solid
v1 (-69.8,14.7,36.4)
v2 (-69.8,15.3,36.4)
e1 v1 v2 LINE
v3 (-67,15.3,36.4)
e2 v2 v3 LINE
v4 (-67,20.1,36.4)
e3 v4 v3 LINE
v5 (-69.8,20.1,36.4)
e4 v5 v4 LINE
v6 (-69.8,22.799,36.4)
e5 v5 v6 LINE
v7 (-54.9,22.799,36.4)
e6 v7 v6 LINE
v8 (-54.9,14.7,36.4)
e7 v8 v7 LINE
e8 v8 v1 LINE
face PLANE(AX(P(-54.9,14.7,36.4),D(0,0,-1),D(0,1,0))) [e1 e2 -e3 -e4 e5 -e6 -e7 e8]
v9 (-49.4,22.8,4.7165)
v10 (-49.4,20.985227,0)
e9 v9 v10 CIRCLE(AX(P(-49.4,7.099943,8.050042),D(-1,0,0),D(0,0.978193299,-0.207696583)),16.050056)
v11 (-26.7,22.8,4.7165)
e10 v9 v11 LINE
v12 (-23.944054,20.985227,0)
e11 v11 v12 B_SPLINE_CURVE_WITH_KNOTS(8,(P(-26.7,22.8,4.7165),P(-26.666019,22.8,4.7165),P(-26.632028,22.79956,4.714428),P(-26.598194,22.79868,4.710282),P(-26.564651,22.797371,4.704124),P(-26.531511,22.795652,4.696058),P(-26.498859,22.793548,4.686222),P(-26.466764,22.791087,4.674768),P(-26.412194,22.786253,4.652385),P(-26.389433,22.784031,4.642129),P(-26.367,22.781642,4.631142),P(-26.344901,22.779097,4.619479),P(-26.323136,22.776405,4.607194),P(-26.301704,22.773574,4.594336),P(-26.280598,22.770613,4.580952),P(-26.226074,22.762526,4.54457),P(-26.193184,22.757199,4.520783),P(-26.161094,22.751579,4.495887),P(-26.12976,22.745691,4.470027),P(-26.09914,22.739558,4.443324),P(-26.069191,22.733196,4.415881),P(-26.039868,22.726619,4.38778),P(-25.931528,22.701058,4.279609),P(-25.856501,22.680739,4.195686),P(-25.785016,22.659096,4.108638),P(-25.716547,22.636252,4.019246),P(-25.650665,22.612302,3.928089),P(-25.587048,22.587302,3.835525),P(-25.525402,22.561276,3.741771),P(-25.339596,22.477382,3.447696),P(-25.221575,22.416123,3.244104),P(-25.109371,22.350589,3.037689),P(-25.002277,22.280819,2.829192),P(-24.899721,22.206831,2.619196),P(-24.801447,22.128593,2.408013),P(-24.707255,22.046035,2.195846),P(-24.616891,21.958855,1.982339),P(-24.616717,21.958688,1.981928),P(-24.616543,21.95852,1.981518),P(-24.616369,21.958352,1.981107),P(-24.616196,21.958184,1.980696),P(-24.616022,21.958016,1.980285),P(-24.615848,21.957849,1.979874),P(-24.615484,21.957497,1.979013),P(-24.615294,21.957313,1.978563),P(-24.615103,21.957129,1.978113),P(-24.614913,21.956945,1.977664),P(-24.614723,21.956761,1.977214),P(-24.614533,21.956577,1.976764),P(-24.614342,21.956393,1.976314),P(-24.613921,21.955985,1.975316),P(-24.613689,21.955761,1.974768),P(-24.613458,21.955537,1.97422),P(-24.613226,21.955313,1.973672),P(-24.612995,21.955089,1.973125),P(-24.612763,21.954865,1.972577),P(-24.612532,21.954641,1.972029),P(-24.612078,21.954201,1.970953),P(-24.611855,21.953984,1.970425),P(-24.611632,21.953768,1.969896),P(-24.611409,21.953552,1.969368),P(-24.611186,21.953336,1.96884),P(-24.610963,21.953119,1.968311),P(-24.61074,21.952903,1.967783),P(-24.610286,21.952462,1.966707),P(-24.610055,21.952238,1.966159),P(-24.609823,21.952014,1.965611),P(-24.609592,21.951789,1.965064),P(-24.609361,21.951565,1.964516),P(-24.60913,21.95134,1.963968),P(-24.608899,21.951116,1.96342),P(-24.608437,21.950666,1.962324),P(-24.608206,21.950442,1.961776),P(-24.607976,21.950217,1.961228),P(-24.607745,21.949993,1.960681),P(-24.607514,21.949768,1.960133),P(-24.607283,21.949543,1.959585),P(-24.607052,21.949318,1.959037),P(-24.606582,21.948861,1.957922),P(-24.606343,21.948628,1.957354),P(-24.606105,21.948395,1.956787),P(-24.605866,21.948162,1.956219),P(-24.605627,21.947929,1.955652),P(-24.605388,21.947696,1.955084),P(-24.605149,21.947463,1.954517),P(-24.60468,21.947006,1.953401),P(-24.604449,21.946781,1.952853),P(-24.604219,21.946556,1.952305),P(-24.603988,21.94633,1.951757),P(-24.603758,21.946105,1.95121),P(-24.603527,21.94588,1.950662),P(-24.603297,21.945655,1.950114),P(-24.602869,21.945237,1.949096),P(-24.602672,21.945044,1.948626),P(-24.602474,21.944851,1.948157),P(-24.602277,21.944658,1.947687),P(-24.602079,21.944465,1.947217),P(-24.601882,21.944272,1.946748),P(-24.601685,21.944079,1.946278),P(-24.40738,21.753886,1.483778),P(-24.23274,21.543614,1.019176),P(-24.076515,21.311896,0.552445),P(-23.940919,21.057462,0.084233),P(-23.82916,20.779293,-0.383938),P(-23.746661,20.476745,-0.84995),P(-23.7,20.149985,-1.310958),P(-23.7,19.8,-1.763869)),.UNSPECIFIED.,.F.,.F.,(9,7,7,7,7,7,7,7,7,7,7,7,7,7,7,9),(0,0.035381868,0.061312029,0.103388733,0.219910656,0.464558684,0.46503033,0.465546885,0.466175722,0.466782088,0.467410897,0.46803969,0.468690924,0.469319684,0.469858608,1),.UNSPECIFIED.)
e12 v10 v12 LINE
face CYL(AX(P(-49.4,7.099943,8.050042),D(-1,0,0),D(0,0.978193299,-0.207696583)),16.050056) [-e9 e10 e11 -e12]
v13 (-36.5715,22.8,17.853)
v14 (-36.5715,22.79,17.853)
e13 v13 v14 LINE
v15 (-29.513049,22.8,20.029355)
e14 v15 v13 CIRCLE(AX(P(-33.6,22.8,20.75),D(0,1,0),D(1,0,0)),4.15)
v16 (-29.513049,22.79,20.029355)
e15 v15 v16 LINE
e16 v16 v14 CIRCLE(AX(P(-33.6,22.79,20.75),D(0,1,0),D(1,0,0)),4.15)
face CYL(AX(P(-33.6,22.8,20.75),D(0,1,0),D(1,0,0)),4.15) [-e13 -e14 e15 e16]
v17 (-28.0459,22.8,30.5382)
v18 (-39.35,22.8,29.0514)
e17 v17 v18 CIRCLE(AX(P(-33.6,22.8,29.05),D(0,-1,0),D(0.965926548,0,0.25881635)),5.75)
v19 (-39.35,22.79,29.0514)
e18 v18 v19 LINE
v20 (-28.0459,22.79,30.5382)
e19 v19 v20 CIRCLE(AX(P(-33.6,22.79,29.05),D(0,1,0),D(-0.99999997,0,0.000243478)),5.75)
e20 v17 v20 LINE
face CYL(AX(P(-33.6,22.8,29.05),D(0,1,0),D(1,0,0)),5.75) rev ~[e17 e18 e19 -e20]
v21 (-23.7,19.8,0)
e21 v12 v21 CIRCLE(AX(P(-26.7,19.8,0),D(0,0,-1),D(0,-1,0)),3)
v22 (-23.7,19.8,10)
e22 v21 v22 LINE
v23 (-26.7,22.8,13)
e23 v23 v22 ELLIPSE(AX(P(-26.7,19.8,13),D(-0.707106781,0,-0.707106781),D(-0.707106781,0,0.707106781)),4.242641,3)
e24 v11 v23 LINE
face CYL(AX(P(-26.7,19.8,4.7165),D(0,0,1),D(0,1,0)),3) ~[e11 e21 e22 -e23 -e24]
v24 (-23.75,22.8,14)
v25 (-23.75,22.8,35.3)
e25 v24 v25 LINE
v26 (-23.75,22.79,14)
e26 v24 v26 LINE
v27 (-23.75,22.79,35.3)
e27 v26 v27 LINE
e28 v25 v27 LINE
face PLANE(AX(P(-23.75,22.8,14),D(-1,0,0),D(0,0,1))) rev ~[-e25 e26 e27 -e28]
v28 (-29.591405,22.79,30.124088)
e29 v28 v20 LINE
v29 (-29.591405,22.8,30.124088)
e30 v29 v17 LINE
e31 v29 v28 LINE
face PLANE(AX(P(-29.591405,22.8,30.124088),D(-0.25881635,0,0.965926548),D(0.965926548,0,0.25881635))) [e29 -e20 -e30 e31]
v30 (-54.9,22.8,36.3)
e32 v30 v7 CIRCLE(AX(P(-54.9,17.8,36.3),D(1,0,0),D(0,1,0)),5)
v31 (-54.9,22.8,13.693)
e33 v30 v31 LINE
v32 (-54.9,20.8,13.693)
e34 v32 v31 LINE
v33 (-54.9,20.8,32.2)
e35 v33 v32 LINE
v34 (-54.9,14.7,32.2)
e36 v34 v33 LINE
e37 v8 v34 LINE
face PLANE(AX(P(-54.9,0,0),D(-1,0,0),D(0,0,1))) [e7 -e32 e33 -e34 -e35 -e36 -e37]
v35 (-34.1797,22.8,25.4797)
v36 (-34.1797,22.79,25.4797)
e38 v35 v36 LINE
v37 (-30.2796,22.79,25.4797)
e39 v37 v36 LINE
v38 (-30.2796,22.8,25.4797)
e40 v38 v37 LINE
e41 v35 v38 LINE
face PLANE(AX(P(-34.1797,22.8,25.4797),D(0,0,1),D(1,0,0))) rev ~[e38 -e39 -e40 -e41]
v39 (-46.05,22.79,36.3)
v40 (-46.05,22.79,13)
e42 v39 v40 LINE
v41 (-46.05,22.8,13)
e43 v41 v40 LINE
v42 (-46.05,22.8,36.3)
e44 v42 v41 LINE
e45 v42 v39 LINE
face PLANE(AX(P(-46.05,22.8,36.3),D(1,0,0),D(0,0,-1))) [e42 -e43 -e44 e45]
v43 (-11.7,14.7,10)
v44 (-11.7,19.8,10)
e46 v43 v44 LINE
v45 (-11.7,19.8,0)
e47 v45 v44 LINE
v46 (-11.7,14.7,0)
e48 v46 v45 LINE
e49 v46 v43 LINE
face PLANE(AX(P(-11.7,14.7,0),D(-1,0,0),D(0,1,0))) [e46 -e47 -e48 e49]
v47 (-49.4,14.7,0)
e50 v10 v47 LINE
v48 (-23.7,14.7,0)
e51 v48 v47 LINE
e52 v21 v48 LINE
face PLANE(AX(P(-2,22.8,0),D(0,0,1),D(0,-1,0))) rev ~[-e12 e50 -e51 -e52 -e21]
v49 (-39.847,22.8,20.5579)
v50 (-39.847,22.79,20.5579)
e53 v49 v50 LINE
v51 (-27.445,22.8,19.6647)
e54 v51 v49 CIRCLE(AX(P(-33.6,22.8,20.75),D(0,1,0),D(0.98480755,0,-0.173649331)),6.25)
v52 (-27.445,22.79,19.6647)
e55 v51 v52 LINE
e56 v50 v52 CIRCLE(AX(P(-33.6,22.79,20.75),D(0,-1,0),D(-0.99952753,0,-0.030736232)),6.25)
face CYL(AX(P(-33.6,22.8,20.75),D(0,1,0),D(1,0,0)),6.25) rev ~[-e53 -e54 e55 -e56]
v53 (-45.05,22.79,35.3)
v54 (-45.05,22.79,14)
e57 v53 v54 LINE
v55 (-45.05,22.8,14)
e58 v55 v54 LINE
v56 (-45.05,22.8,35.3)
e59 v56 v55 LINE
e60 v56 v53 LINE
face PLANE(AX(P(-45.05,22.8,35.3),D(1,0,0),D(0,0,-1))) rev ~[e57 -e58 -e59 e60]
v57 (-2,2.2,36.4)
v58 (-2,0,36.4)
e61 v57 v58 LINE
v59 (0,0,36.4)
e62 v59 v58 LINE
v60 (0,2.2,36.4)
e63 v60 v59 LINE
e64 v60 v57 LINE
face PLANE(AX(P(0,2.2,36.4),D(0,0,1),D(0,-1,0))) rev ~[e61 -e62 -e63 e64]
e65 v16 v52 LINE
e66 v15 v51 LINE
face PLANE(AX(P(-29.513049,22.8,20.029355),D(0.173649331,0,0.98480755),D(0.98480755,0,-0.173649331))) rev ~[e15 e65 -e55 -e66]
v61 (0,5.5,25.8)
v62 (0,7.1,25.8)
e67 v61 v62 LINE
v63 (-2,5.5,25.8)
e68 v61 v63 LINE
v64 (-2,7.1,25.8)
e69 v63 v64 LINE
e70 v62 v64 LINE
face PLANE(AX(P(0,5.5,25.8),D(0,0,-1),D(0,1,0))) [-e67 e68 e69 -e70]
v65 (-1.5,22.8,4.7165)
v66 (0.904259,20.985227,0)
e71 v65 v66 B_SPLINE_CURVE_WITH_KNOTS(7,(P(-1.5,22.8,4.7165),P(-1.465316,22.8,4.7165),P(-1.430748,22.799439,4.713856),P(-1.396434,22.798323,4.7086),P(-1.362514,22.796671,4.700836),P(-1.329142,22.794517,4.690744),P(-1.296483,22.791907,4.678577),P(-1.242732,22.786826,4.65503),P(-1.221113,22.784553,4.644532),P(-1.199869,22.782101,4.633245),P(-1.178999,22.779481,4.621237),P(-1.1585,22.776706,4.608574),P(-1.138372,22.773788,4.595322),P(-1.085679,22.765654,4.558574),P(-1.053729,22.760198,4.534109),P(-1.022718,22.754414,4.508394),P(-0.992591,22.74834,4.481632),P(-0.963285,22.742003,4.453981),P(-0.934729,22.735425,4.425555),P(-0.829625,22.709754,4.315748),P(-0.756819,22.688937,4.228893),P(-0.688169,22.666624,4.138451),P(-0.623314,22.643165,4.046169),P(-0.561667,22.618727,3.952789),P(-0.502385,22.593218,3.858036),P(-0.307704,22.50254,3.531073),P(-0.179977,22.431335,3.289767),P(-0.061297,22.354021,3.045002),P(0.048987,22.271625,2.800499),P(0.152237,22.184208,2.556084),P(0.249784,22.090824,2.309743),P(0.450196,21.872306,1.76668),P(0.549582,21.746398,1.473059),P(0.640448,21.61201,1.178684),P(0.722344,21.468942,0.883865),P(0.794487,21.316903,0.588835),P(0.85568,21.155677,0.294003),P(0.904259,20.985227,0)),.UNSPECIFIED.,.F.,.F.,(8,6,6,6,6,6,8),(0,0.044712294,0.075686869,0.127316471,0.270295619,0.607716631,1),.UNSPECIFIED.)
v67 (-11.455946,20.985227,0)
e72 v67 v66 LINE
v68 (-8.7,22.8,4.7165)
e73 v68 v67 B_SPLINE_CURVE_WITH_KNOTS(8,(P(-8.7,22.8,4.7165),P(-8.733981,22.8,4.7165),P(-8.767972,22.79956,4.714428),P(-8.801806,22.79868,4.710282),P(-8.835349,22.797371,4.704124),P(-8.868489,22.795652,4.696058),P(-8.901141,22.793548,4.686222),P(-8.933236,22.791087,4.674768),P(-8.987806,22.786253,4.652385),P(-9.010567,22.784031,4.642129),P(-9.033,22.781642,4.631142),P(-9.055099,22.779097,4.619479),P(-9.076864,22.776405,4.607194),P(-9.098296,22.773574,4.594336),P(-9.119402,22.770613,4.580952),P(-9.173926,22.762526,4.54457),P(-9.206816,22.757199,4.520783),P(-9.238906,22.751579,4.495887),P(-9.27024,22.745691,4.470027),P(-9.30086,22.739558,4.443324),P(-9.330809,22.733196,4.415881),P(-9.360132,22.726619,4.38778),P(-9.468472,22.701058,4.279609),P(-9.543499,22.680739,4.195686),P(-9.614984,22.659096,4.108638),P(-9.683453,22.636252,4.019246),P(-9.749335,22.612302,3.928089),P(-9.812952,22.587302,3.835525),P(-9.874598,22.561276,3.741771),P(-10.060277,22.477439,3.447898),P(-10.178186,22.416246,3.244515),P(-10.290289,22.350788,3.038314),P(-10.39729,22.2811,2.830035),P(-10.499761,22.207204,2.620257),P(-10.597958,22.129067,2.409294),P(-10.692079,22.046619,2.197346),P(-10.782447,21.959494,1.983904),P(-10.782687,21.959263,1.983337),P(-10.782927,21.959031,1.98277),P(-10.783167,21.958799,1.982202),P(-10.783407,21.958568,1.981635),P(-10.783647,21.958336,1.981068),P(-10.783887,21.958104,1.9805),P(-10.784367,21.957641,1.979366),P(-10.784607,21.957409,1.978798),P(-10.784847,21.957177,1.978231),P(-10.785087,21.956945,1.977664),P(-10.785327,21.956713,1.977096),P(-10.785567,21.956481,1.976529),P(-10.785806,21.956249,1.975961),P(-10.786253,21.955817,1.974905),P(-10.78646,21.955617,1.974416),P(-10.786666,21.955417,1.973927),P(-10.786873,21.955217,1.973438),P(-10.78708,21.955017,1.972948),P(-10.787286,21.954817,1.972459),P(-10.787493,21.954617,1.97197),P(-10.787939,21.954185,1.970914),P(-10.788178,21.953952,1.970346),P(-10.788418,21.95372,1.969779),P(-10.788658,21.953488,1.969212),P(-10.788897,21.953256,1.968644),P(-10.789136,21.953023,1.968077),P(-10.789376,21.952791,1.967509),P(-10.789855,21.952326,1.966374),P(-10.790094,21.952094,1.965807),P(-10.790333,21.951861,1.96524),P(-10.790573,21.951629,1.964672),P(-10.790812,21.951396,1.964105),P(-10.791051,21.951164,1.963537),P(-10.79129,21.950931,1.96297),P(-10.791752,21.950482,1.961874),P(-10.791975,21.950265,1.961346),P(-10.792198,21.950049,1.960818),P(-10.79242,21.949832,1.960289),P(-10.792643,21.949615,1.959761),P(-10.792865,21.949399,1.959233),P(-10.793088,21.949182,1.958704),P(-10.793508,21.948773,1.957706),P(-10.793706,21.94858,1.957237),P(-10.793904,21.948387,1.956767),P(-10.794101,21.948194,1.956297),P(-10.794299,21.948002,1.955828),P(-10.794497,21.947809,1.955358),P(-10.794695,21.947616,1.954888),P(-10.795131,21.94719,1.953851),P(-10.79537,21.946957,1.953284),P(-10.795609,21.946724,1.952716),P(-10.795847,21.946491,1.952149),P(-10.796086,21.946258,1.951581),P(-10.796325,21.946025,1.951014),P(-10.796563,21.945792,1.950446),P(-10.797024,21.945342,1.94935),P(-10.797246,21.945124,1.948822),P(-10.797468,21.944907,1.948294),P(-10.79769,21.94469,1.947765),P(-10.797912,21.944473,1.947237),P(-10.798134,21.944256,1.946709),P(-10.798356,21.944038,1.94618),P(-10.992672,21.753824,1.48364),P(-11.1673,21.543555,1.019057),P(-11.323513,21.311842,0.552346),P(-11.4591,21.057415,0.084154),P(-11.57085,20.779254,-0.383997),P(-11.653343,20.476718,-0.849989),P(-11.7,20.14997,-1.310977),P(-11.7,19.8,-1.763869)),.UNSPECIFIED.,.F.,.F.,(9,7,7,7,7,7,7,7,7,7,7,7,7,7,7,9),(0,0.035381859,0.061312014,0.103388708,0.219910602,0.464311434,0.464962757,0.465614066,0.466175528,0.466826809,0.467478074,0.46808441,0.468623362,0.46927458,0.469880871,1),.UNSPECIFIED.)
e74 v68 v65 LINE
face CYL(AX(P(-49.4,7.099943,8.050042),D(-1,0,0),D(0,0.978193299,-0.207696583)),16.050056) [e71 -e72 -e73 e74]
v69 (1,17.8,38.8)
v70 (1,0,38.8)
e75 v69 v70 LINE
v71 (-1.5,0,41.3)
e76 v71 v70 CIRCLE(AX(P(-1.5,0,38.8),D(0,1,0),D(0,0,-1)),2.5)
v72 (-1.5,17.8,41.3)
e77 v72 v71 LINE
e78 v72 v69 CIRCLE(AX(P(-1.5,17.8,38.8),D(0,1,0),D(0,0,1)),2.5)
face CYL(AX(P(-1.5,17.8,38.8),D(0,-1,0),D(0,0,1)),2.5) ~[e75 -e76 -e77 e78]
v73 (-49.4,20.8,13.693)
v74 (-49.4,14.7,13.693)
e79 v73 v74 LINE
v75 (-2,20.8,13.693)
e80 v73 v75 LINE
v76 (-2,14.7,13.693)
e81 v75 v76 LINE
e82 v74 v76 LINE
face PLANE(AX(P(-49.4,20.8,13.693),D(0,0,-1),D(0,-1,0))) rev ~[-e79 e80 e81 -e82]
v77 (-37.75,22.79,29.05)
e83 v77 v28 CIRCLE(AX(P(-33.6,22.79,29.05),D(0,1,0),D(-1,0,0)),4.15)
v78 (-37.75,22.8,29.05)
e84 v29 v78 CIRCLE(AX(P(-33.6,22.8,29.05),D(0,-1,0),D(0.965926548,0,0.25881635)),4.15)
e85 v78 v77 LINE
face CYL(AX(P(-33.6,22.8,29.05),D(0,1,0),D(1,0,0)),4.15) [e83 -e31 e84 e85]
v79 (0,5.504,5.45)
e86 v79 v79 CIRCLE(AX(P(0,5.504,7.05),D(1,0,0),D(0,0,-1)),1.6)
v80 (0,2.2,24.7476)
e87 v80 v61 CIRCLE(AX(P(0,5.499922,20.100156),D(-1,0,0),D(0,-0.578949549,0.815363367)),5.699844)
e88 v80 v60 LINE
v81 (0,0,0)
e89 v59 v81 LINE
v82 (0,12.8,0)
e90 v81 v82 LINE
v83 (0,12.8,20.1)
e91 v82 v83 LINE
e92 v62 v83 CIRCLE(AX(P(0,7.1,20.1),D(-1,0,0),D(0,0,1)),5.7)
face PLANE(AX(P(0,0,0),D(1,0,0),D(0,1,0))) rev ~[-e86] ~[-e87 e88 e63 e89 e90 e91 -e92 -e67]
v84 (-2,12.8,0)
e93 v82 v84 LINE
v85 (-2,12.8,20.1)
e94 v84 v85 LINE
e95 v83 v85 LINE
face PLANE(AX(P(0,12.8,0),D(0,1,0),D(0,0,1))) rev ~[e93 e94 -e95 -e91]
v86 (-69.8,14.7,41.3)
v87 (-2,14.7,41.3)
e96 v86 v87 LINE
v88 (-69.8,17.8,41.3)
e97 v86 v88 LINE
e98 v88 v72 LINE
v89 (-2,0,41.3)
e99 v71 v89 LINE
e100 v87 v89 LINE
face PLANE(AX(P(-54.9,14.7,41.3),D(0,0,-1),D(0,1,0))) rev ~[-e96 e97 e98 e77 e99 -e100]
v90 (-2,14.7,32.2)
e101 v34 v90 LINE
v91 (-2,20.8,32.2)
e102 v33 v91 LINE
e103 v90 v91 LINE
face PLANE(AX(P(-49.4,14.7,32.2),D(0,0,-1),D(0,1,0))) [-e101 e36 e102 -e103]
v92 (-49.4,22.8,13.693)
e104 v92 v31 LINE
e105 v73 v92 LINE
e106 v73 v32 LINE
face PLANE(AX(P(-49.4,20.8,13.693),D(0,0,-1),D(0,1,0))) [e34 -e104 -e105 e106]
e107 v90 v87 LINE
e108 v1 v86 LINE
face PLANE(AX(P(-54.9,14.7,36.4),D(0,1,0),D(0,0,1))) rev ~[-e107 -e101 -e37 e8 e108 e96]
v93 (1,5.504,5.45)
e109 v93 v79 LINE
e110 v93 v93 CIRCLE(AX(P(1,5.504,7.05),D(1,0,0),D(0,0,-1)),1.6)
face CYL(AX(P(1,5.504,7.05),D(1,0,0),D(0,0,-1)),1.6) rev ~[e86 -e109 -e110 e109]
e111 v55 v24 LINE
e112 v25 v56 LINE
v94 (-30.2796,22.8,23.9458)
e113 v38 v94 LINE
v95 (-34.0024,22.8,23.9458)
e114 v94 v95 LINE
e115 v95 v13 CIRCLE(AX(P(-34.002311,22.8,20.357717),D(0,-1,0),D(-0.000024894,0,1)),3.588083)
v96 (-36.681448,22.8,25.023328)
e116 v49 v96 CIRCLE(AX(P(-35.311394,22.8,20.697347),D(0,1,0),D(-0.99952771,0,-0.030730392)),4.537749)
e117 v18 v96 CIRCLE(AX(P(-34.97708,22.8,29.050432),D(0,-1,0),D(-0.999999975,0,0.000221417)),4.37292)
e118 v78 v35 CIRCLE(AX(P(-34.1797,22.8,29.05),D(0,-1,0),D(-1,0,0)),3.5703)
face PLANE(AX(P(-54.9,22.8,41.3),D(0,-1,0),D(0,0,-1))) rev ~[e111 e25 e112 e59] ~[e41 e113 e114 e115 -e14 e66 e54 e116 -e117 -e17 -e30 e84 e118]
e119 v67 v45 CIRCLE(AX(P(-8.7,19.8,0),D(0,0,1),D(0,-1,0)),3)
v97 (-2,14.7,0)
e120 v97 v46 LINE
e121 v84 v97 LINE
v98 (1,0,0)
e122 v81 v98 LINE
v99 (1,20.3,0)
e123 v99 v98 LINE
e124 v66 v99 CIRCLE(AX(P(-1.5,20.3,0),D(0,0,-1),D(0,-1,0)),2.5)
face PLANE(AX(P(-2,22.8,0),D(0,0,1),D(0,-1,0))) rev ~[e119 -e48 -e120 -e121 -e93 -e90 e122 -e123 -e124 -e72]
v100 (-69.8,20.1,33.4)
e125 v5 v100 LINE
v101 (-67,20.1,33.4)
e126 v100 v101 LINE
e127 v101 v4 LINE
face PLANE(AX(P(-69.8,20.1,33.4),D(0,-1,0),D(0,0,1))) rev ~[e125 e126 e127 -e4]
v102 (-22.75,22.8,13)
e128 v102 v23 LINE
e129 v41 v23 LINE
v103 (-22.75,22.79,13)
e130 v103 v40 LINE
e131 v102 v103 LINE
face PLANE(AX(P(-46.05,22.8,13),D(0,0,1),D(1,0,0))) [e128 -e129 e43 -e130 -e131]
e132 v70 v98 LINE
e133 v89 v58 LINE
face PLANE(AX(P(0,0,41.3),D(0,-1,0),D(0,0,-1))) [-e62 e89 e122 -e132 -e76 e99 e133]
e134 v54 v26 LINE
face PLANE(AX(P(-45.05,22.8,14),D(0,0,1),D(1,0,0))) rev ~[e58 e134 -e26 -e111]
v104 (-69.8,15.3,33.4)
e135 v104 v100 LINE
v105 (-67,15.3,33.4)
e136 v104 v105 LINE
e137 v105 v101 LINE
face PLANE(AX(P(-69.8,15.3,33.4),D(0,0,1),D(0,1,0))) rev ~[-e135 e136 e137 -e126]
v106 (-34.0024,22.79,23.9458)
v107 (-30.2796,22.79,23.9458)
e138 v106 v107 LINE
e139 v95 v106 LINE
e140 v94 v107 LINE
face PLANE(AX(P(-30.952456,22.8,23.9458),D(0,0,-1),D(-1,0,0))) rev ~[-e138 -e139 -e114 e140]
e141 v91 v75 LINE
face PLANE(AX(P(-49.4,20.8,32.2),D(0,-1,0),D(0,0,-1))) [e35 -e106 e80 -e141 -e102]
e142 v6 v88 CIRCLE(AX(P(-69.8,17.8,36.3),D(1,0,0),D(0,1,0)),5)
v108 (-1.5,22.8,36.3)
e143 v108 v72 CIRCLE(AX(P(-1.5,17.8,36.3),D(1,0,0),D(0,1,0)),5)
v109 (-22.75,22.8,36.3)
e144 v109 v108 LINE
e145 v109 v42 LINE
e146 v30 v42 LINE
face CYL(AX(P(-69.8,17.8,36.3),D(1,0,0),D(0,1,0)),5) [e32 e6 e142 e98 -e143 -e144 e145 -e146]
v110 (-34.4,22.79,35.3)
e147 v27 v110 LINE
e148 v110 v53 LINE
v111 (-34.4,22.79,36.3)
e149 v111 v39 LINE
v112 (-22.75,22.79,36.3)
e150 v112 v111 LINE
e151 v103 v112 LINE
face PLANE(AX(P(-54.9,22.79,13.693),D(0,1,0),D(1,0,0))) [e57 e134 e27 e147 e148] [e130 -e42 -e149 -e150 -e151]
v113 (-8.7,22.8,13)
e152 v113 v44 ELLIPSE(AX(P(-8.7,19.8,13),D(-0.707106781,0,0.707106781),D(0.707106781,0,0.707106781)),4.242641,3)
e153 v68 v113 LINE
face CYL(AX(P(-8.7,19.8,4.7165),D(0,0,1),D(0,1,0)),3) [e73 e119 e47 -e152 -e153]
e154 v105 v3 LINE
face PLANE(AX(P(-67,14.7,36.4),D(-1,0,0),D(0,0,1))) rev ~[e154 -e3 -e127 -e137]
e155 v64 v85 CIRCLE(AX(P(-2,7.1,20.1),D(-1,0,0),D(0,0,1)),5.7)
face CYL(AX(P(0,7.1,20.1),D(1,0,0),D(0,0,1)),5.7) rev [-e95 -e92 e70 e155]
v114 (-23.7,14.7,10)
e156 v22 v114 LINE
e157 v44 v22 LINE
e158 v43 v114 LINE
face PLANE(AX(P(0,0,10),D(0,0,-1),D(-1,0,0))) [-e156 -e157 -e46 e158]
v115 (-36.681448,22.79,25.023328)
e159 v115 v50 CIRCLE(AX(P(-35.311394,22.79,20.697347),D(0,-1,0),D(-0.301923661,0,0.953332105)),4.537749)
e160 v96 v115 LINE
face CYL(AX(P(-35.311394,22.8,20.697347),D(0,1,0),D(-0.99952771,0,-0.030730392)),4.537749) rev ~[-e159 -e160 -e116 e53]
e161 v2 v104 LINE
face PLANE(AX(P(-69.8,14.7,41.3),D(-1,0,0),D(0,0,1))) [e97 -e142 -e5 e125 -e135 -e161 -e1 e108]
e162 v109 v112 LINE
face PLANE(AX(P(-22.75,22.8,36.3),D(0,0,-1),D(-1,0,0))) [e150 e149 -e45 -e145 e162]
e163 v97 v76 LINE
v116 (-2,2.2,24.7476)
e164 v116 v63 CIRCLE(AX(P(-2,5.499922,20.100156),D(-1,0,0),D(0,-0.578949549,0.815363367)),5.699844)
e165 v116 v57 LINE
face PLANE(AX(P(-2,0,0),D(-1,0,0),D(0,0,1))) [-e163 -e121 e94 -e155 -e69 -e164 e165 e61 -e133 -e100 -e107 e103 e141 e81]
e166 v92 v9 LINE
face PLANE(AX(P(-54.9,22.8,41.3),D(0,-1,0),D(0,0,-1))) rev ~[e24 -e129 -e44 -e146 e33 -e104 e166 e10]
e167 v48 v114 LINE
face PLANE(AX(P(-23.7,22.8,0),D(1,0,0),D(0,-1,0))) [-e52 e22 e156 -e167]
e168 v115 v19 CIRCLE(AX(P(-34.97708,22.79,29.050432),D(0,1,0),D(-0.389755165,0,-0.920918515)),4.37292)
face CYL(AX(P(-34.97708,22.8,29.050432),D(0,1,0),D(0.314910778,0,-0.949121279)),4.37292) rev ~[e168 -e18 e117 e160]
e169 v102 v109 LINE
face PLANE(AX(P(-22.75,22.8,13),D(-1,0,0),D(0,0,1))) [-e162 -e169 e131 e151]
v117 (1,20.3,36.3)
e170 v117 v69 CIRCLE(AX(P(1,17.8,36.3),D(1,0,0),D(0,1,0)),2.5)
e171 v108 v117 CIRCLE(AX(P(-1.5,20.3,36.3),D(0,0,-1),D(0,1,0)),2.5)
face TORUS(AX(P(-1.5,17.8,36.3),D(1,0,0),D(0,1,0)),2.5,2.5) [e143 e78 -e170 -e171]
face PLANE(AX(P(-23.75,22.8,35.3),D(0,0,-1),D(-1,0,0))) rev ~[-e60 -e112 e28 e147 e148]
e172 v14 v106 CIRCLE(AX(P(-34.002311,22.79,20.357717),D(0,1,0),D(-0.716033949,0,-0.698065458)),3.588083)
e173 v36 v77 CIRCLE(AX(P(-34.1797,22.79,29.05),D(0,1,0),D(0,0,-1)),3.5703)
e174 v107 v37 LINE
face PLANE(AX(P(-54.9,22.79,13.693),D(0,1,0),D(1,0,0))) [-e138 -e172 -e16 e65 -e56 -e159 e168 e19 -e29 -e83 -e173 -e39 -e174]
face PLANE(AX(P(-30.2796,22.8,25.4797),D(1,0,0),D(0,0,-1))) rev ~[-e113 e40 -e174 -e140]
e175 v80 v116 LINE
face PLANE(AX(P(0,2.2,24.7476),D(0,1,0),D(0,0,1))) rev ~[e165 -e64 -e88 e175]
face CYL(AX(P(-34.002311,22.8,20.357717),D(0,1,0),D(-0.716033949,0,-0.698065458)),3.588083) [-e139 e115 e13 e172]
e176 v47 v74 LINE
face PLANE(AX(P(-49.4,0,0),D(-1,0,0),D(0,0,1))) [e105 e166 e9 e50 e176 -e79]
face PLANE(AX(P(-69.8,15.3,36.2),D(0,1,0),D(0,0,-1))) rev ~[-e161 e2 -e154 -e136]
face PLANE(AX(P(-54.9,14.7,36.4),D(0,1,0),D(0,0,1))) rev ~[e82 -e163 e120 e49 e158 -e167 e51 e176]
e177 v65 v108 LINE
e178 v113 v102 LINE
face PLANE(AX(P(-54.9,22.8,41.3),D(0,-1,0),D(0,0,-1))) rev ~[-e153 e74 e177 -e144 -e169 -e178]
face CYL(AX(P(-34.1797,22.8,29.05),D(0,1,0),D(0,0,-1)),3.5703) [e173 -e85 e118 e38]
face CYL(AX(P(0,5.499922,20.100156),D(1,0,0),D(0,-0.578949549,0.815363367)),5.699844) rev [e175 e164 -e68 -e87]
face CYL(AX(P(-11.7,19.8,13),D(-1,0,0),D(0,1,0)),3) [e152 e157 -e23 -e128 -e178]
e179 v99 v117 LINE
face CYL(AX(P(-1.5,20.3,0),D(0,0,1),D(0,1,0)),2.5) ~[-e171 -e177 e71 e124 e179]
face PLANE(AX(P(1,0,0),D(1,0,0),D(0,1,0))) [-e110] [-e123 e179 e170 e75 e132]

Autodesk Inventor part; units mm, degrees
ref_plane "YZ Plane" through (0, 0, 0) normal (1, 0, 0) x (0, 1, 0)
sketch "スケッチ1" plane through (0, 0, 0) normal (1, 0, 0) x (0, 1, 0)
  line L0 (0, 0) -> (22.8, 0)
  line L1 (22.8, 0) -> (22.8, 41.3)
  line L2 (22.8, 41.3) -> (0, 41.3)
  line L3 (0, 41.3) -> (0, 0)
  arc A0 (2, -7.1682) -> (22.8, 4.7165) centre (7.1, 8.05) ccw projected
  line L4 (22.8, 36.2) -> (22.8, 4.7165) projected
  line L5 (22.8, 36.2) -> (12.6, 36.2) projected
  line L6 (12.6, 36.2) -> (12.6, 28.2) projected
  line L7 (14.2, 28.2) -> (12.6, 28.2) projected
  line L8 (14.2, 28.2) -> (14.2, 32.2) projected
  line L9 (14.2, 32.2) -> (20.8, 32.2) projected
  line L10 (20.8, 32.2) -> (20.8, 8.3) projected
  line L11 (14.2, 8.3) -> (20.8, 8.3) projected
  line L12 (14.2, 4.7954) -> (14.2, 8.3) projected
  line L13 (14.2, 0) -> (14.2, 4.7954) projected
  line L14 (2, 0) -> (14.2, 0) projected
  line L15 (2, 0) -> (2, -7.1682) projected
  line L16 (12.6, 42.3) -> (14.6, 42.3) projected
  dimension "d2" = 1
extrude "押し出し1" add sketch "スケッチ1" along normal blind 1 contours L3 L2 L1 L5 L6 L7 L8 L9 L10 L11 L12 L13 L0 | L13 L12 L11 L10 L9 L8 L7 L6 L5 L1 A0 L0 | A0 L1 L0
sketch "スケッチ2" plane through (0, 0, 0) normal (-1, 0, 0) x (0, 0, 1)
  line L0 (24.3426, 2) -> (36.2, 2)
  line L1 (36.2, 0) -> (36.2, 2)
  arc A0 (25.6, 7.1) -> (20.1, 12.6) centre (20.1, 7.1) ccw
  line L2 (25.6, 7.1) -> (25.6, 5.5)
  arc A1 (24.3426, 2) -> (25.6, 5.5) centre (20.1, 5.5) ccw
  line L3 (0, 12.6) -> (20.1, 12.6)
  line L4 (0, 22.8) -> (41.3, 22.8)
  line L5 (0, 0) -> (0, 22.8)
  line L6 (41.3, 0) -> (0, 0)
  line L7 (41.3, 22.8) -> (41.3, 0)
  line L8 (0, 12.8) -> (20.1, 12.8)
  arc A2 (25.8, 7.1) -> (20.1, 12.8) centre (20.1, 7.1) ccw
  arc A3 (24.7476, 2.2) -> (25.8, 5.5) centre (20.1, 5.5) ccw
  line L9 (25.8, 5.5) -> (25.8, 7.1)
  line L10 (24.7476, 2.2) -> (36.4, 2.2)
  line L11 (36.4, 2.2) -> (36.4, 0)
  line L12 (41.3, 0) -> (0, 0)
  line L13 (0, 0) -> (0, 22.8)
extrude "押し出し2" add sketch "スケッチ2" along normal blind 2 contours L11 L10 A3 L9 A2 L8 L5 L4 L7 L6
sketch "スケッチ3" plane through (-2, 0, 0) normal (-1, 0, 0) x (0, 0, 1)
  line L0 (28.2, 12.6) -> (50.1, 12.6) projected
  line L1 (0, 14.2) -> (4.55, 14.2) projected
  line L2 (41.3, 0) -> (41.3, 22.8) projected
  line L3 (41.3, 22.8) -> (0, 22.8) projected
  line L4 (0, 22.8) -> (0, 12.8) projected
  line L5 (0, 12.8) -> (20.1, 12.8) projected
  arc A0 (25.8, 7.1) -> (20.1, 12.8) centre (20.1, 7.1) ccw projected
  line L6 (25.8, 7.1) -> (25.8, 5.5) projected
  arc A1 (24.7476, 2.2) -> (25.8, 5.5) centre (20.1, 5.5) ccw projected
  line L7 (24.7476, 2.2) -> (36.4, 2.2) projected
  line L8 (36.4, 2.2) -> (36.4, 0) projected
  line L9 (36.4, 0) -> (41.3, 0) projected
  line L10 (41.3, 0) -> (41.3, 22.8) projected
  line L11 (0, 14.7) -> (41.3, 14.7)
  point P0 (0, 0)
  dimension "d9" = 0.5
extrude "押し出し3" add sketch "スケッチ3" along normal blind 47.4 contours L11 L4 L3 L2
sketch "スケッチ4" plane through (-49.4, 0, 0) normal (-1, 0, 0) x (0, 0, 1)
  line L0 (11.075, 12.3395) -> (13.693, 16.874) projected
  line L1 (13.693, 16.874) -> (13.693, 22.8)
  line L2 (41.3, 22.8) -> (0, 22.8) projected
  line L3 (0, 22.8) -> (0, 14.7) projected
  line L4 (0, 14.7) -> (41.3, 14.7) projected
  line L5 (41.3, 14.7) -> (41.3, 22.8) projected
  line L6 (41.3, 22.8) -> (0, 22.8) projected
  arc A0 (4.7165, 22.8) -> (-7.1682, 2) centre (8.05, 7.1) ccw projected
  line L7 (36.2, 22.8) -> (4.7165, 22.8) projected
  line L8 (36.2, 22.8) -> (36.2, 12.6) projected
  line L9 (36.2, 12.6) -> (28.2, 12.6) projected
  line L10 (28.2, 14.2) -> (28.2, 12.6) projected
  line L11 (28.2, 14.2) -> (32.2, 14.2) projected
  line L12 (32.2, 14.2) -> (32.2, 20.8) projected
  line L13 (32.2, 20.8) -> (8.3, 20.8) projected
  line L14 (8.3, 14.2) -> (8.3, 20.8) projected
  line L15 (4.7954, 14.2) -> (8.3, 14.2) projected
  line L16 (0, 14.2) -> (4.7954, 14.2) projected
  line L17 (0, 2) -> (0, 14.2) projected
  line L18 (0, 2) -> (-7.1682, 2) projected
  point P0 (0, 0)
  point P1 (13.693, 20.8)
  point P2 (32.2, 14.7)
ref_plane "作業平面1" through (-54.9, 2, -8) normal (1, 0, 0) x (0, 1, 0)
extrude "押し出し4" add sketch "スケッチ4" along normal up to surface (5.5 mm away) contours L12 L13 L1 L2 L8 L4 | L8 L2 L5 L4
sketch "スケッチ5" plane through (-54.9, 14.7, 41.3) normal (-1, 0, 0) x (0, 0, 1)
  line L0 (-27.607, 6.1) -> (-9.1, 6.1) projected
  line L1 (-9.1, 6.1) -> (-9.1, 0) projected
  line L2 (-9.1, 0) -> (0, 0) projected
  line L3 (0, 0) -> (0, 8.1) projected
  line L4 (0, 8.1) -> (-27.607, 8.1) projected
  line L5 (-27.607, 8.1) -> (-27.607, 6.1) projected
  line L6 (-5.1, -12.7) -> (-5.1, 0.5) projected
  line L7 (0, 0) -> (-41.3, 0) projected
  line L8 (-4.9, 0) -> (-4.9, 8.1)
  point P0 (-41.3, -14.7)
  point P1 (-4.9, 0)
  dimension "d14" = 0.2
ref_plane "作業平面2" through (-69.8, 2, -8) normal (-1, 0, 0) x (0, 0, 1)
extrude "押し出し5" add sketch "スケッチ5" along normal up to surface (14.9 mm away) contours L4 L3 L2 L8
sketch "スケッチ6" plane through (-49.4, 0, 0) normal (-1, 0, 0) x (0, 0, 1)
  line L0 (13.693, 20.8) -> (13.693, 22.8) projected
  line L1 (13.693, 22.8) -> (0, 22.8) projected
  line L2 (0, 22.8) -> (0, 14.7) projected
  line L3 (0, 14.7) -> (32.2, 14.7) projected
  line L4 (32.2, 14.7) -> (32.2, 20.8) projected
  line L5 (32.2, 20.8) -> (13.693, 20.8) projected
  line L6 (13.693, 20.8) -> (13.693, 14.7)
  point P0 (0, 0)
extrude "押し出し6" cut sketch "スケッチ6" against normal up to surface (47.4 mm away) contours L5 L4 L3 L6
fillet "フィレット1" radius 5 1 edges at (-34.4, 22.8, 41.3)
fillet "フィレット2" radius 2.5 3 edges at (1, 22.8, 18.15) (1, 21.3355, 39.8355) (1, 8.9, 41.3)
sketch "スケッチ7" plane through (-49.4, 0, 0) normal (-1, 0, 0) x (0, 0, 1)
  arc A0 (4.7165, 22.8) -> (-7.1682, 2) centre (8.05, 7.1) ccw projected
  line L0 (13.693, 22.8) -> (0, 22.8) projected
  arc A1 (4.7165, 22.8) -> (-7.1682, 2) centre (8.05, 7.1) ccw projected
  line L1 (0, 22.8) -> (0, 14.7) projected
  point P0 (0, 0)
  point P1 (0, 20.9852)
extrude "押し出し7" cut sketch "スケッチ7" against normal through all
sketch "スケッチ8" plane through (0, 0, 0) normal (0, 0, -1) x (-1, 0, 0)
  line L0 (23.7, 13.1) -> (23.7, 1.1) projected
  line L1 (2, 14.7) -> (49.4, 14.7) projected
  line L2 (1.5, 22.8) -> (49.4, 22.8) projected
  line L3 (2, 14.7) -> (69.8, 14.7) projected
  line L4 (23.7, 14.7) -> (11.7, 14.7)
  line L5 (11.7, 14.7) -> (11.7, 22.8)
  line L6 (11.7, 22.8) -> (23.7, 22.8)
  line L7 (23.7, 22.8) -> (23.7, 14.7)
  point P0 (0, 0)
  point P1 (11.7, 14.7)
  dimension "d23" = 12
extrude "押し出し8" cut sketch "スケッチ8" against normal blind 10
fillet "フィレット3" radius 3 3 edges at (-23.7, 22.8, 7.3582) (-11.7, 22.8, 7.3582) (-17.7, 22.8, 10)
sketch "スケッチ9" plane through (-69.8, 14.7, 36.4) normal (-1, 0, 0) x (0, 0, 1)
  line L0 (-0.2, 0.5) -> (-3.2, 0.5) projected
  line L1 (-0.2, 5.5) -> (-0.2, 0.5) projected
  line L2 (-3.2, 5.5) -> (-0.2, 5.5) projected
  line L3 (-3.2, 0.5) -> (-3.2, 5.5) projected
  line L4 (-3, 5.4) -> (0, 5.4)
  line L5 (0, 5.4) -> (0, 0.6)
  line L6 (0, 0.6) -> (-3, 0.6)
  line L7 (-3, 0.6) -> (-3, 5.4)
  arc A0 (4.9, 3.1) -> (0, 8.099) centre (-0.1, 3.1) ccw projected
  line L8 (0, 0) -> (0, 8.099) projected
  line L9 (4.9, 0) -> (0, 0) projected
  line L10 (4.9, 3.1) -> (4.9, 0) projected
  line L11 (0, 0) -> (0, 8.099) projected
  point P0 (-36.4, -14.7)
  point P1 (-0.2, 3)
  point P2 (-3, 3)
  dimension "d27" = 4.8
extrude "押し出し9" add sketch "スケッチ9" against normal blind 2.8 contours L6 L7 L4 L1 | L1 L4 L5 L6
sketch "スケッチ10" plane through (1, 0, 0) normal (1, 0, 0) x (0, 0, -1)
  circle A0 centre (-7.05, 5.504) radius 1.6
  arc A1 (-4.65, 5.508) -> (-6.95, 8) centre (-7.15, 5.508) ccw projected
  arc A2 (-6.95, 8) -> (-9.45, 5.5) centre (-6.95, 5.5) ccw projected
  line L0 (-7.15, 5.508) -> (-6.95, 5.5)
  point P0 (0, 0)
  dimension "d30" = 3.2
extrude "押し出し10" cut sketch "スケッチ10" against normal through all
sketch "スケッチ11" plane through (-54.9, 22.8, 13.693) normal (0, 1, 0) x (1, 0, 0)
  line L0 (53.4, -22.607) -> (0, -22.607) projected
  line L1 (32.15, -22.607) -> (8.85, -22.607)
  line L2 (8.85, -22.607) -> (8.85, 0.693)
  line L3 (8.85, 0.693) -> (32.15, 0.693)
  line L4 (32.15, 0.693) -> (32.15, -22.607)
  line L5 (28.2, 0.693) -> (46.2, 0.693) projected
  line L6 (20.5, -22.607) -> (20.5, -17.7274)
  line L7 (55.9, -22.607) -> (55.9, 13.693) projected
  line L8 (-14.9, -27.607) -> (-14.9, -22.707) projected
  line L9 (55.9, -22.607) -> (55.9, 7.9184)
  line L10 (-14.9, -27.607) -> (-14.9, -22.707) projected
  line L11 (-14.9, -27.607) -> (-14.9, -22.707)
  line L12 (10.35, -0.807) -> (30.65, -0.807)
  line L13 (30.65, -0.807) -> (30.65, -21.107)
  line L14 (30.65, -21.107) -> (10.35, -21.107)
  line L15 (10.35, -21.107) -> (10.35, -0.807)
  line L16 (9.85, -0.307) -> (31.15, -0.307)
  line L17 (31.15, -0.307) -> (31.15, -21.607)
  line L18 (31.15, -21.607) -> (9.85, -21.607)
  line L19 (9.85, -21.607) -> (9.85, -0.307)
  line L20 (-14.2639, 8.2606) -> (-10.5139, 8.2606)
  circle A0 centre (21.3, -7.057) radius 6.25
  circle A1 centre (21.3, -15.357) radius 5.75
  circle A2 centre (21.3, -7.057) radius 4.15
  circle A3 centre (21.3, -15.357) radius 4.15
  line L21 (24.6204, -10.2528) -> (18.6525, -10.2528)
  line L22 (18.6525, -10.2528) -> (18.6525, -11.7867)
  line L23 (18.6525, -11.7867) -> (24.6204, -11.7867)
  line L24 (24.6204, -11.7867) -> (24.6204, -10.2528)
  arc A4 (15.053, -6.8649) -> (21.3, -11.207) centre (19.5885, -7.0044) ccw
  arc A5 (21.3, -11.207) -> (15.55, -15.3584) centre (19.9229, -15.3573) ccw
  arc A6 (20.7203, -11.7867) -> (17.15, -15.357) centre (20.7203, -15.357) ccw
  arc A7 (18.3285, -4.16) -> (20.8976, -10.2528) centre (20.8976, -6.6647) ccw
  line L25 (21.3, -15.357) -> (26.8541, -16.8452)
  line L26 (21.3, -7.057) -> (27.455, -5.9717)
  point P0 (54.9, 13.693)
  point P1 (20.5, 14.3955)
  point P2 (30.65, -10.957)
  point P3 (31.15, -10.957)
  point P4 (20.5, -0.807)
  point P5 (20.5, -0.307)
  point P6 (20.5, 3.8955)
  point P7 (18.6525, -11.0197)
  point P8 (32.15, -10.957)
  point P9 (20.5, -21.607)
  point P10 (25.387, -6.3363)
  point P11 (18.2184, -11.3303)
  point P12 (25.3086, -16.4311)
  point P13 (8.85, -22.607)
  dimension "d33" = 35.4
  dimension "d34" = 35.4
  dimension "d35" = 23.3
  dimension "d36" = 23.3
  dimension "d40" = 0.5
  dimension "d49" = 1
  dimension "d51" = 11.5
  dimension "d52" = 12.5
  dimension "d53" = 0.8
  dimension "d54" = 80
  dimension "d55" = 75
extrude "押し出し11" cut sketch "スケッチ11" against normal blind 0.01 contours L0 L2 L3 L4 | A1 A5 A0 A3 L6 | L6 A3 L25 A1 | A3 A0 A6 | A5 A4 L22 L23 A3 A0 | A0 L26 A2 A1 A4 | A3 L23 A6 A0 | A1 L22 A5 A4 | A5 L22 A4 | L23 L22 A4 A3 | A3 A4 L23 | A2 A7 A1 | L21 A2 A5 | A1 A7 L21 | A2 A5 L22 | L22 A5 A2 A3 A4 | L24 L23 A3 A2 A1 | A1 L21 L24 | A3 A4 | A5 A2 picked at (17.7249, -13.3851) picked at (19.4043, -11.9435) picked at (18.4353, -9.7598) picked at (19.6416, -10.192)
equation "\"d33\" = d34"
equation "\"d36\" = d35"
equation "\"d4\" = d3"
equation "\"d5\" = d4"
equation "\"d6\" = d5"
equation "\"d3\" = 0.2"
properties part number "hand_finger_cover_3"
